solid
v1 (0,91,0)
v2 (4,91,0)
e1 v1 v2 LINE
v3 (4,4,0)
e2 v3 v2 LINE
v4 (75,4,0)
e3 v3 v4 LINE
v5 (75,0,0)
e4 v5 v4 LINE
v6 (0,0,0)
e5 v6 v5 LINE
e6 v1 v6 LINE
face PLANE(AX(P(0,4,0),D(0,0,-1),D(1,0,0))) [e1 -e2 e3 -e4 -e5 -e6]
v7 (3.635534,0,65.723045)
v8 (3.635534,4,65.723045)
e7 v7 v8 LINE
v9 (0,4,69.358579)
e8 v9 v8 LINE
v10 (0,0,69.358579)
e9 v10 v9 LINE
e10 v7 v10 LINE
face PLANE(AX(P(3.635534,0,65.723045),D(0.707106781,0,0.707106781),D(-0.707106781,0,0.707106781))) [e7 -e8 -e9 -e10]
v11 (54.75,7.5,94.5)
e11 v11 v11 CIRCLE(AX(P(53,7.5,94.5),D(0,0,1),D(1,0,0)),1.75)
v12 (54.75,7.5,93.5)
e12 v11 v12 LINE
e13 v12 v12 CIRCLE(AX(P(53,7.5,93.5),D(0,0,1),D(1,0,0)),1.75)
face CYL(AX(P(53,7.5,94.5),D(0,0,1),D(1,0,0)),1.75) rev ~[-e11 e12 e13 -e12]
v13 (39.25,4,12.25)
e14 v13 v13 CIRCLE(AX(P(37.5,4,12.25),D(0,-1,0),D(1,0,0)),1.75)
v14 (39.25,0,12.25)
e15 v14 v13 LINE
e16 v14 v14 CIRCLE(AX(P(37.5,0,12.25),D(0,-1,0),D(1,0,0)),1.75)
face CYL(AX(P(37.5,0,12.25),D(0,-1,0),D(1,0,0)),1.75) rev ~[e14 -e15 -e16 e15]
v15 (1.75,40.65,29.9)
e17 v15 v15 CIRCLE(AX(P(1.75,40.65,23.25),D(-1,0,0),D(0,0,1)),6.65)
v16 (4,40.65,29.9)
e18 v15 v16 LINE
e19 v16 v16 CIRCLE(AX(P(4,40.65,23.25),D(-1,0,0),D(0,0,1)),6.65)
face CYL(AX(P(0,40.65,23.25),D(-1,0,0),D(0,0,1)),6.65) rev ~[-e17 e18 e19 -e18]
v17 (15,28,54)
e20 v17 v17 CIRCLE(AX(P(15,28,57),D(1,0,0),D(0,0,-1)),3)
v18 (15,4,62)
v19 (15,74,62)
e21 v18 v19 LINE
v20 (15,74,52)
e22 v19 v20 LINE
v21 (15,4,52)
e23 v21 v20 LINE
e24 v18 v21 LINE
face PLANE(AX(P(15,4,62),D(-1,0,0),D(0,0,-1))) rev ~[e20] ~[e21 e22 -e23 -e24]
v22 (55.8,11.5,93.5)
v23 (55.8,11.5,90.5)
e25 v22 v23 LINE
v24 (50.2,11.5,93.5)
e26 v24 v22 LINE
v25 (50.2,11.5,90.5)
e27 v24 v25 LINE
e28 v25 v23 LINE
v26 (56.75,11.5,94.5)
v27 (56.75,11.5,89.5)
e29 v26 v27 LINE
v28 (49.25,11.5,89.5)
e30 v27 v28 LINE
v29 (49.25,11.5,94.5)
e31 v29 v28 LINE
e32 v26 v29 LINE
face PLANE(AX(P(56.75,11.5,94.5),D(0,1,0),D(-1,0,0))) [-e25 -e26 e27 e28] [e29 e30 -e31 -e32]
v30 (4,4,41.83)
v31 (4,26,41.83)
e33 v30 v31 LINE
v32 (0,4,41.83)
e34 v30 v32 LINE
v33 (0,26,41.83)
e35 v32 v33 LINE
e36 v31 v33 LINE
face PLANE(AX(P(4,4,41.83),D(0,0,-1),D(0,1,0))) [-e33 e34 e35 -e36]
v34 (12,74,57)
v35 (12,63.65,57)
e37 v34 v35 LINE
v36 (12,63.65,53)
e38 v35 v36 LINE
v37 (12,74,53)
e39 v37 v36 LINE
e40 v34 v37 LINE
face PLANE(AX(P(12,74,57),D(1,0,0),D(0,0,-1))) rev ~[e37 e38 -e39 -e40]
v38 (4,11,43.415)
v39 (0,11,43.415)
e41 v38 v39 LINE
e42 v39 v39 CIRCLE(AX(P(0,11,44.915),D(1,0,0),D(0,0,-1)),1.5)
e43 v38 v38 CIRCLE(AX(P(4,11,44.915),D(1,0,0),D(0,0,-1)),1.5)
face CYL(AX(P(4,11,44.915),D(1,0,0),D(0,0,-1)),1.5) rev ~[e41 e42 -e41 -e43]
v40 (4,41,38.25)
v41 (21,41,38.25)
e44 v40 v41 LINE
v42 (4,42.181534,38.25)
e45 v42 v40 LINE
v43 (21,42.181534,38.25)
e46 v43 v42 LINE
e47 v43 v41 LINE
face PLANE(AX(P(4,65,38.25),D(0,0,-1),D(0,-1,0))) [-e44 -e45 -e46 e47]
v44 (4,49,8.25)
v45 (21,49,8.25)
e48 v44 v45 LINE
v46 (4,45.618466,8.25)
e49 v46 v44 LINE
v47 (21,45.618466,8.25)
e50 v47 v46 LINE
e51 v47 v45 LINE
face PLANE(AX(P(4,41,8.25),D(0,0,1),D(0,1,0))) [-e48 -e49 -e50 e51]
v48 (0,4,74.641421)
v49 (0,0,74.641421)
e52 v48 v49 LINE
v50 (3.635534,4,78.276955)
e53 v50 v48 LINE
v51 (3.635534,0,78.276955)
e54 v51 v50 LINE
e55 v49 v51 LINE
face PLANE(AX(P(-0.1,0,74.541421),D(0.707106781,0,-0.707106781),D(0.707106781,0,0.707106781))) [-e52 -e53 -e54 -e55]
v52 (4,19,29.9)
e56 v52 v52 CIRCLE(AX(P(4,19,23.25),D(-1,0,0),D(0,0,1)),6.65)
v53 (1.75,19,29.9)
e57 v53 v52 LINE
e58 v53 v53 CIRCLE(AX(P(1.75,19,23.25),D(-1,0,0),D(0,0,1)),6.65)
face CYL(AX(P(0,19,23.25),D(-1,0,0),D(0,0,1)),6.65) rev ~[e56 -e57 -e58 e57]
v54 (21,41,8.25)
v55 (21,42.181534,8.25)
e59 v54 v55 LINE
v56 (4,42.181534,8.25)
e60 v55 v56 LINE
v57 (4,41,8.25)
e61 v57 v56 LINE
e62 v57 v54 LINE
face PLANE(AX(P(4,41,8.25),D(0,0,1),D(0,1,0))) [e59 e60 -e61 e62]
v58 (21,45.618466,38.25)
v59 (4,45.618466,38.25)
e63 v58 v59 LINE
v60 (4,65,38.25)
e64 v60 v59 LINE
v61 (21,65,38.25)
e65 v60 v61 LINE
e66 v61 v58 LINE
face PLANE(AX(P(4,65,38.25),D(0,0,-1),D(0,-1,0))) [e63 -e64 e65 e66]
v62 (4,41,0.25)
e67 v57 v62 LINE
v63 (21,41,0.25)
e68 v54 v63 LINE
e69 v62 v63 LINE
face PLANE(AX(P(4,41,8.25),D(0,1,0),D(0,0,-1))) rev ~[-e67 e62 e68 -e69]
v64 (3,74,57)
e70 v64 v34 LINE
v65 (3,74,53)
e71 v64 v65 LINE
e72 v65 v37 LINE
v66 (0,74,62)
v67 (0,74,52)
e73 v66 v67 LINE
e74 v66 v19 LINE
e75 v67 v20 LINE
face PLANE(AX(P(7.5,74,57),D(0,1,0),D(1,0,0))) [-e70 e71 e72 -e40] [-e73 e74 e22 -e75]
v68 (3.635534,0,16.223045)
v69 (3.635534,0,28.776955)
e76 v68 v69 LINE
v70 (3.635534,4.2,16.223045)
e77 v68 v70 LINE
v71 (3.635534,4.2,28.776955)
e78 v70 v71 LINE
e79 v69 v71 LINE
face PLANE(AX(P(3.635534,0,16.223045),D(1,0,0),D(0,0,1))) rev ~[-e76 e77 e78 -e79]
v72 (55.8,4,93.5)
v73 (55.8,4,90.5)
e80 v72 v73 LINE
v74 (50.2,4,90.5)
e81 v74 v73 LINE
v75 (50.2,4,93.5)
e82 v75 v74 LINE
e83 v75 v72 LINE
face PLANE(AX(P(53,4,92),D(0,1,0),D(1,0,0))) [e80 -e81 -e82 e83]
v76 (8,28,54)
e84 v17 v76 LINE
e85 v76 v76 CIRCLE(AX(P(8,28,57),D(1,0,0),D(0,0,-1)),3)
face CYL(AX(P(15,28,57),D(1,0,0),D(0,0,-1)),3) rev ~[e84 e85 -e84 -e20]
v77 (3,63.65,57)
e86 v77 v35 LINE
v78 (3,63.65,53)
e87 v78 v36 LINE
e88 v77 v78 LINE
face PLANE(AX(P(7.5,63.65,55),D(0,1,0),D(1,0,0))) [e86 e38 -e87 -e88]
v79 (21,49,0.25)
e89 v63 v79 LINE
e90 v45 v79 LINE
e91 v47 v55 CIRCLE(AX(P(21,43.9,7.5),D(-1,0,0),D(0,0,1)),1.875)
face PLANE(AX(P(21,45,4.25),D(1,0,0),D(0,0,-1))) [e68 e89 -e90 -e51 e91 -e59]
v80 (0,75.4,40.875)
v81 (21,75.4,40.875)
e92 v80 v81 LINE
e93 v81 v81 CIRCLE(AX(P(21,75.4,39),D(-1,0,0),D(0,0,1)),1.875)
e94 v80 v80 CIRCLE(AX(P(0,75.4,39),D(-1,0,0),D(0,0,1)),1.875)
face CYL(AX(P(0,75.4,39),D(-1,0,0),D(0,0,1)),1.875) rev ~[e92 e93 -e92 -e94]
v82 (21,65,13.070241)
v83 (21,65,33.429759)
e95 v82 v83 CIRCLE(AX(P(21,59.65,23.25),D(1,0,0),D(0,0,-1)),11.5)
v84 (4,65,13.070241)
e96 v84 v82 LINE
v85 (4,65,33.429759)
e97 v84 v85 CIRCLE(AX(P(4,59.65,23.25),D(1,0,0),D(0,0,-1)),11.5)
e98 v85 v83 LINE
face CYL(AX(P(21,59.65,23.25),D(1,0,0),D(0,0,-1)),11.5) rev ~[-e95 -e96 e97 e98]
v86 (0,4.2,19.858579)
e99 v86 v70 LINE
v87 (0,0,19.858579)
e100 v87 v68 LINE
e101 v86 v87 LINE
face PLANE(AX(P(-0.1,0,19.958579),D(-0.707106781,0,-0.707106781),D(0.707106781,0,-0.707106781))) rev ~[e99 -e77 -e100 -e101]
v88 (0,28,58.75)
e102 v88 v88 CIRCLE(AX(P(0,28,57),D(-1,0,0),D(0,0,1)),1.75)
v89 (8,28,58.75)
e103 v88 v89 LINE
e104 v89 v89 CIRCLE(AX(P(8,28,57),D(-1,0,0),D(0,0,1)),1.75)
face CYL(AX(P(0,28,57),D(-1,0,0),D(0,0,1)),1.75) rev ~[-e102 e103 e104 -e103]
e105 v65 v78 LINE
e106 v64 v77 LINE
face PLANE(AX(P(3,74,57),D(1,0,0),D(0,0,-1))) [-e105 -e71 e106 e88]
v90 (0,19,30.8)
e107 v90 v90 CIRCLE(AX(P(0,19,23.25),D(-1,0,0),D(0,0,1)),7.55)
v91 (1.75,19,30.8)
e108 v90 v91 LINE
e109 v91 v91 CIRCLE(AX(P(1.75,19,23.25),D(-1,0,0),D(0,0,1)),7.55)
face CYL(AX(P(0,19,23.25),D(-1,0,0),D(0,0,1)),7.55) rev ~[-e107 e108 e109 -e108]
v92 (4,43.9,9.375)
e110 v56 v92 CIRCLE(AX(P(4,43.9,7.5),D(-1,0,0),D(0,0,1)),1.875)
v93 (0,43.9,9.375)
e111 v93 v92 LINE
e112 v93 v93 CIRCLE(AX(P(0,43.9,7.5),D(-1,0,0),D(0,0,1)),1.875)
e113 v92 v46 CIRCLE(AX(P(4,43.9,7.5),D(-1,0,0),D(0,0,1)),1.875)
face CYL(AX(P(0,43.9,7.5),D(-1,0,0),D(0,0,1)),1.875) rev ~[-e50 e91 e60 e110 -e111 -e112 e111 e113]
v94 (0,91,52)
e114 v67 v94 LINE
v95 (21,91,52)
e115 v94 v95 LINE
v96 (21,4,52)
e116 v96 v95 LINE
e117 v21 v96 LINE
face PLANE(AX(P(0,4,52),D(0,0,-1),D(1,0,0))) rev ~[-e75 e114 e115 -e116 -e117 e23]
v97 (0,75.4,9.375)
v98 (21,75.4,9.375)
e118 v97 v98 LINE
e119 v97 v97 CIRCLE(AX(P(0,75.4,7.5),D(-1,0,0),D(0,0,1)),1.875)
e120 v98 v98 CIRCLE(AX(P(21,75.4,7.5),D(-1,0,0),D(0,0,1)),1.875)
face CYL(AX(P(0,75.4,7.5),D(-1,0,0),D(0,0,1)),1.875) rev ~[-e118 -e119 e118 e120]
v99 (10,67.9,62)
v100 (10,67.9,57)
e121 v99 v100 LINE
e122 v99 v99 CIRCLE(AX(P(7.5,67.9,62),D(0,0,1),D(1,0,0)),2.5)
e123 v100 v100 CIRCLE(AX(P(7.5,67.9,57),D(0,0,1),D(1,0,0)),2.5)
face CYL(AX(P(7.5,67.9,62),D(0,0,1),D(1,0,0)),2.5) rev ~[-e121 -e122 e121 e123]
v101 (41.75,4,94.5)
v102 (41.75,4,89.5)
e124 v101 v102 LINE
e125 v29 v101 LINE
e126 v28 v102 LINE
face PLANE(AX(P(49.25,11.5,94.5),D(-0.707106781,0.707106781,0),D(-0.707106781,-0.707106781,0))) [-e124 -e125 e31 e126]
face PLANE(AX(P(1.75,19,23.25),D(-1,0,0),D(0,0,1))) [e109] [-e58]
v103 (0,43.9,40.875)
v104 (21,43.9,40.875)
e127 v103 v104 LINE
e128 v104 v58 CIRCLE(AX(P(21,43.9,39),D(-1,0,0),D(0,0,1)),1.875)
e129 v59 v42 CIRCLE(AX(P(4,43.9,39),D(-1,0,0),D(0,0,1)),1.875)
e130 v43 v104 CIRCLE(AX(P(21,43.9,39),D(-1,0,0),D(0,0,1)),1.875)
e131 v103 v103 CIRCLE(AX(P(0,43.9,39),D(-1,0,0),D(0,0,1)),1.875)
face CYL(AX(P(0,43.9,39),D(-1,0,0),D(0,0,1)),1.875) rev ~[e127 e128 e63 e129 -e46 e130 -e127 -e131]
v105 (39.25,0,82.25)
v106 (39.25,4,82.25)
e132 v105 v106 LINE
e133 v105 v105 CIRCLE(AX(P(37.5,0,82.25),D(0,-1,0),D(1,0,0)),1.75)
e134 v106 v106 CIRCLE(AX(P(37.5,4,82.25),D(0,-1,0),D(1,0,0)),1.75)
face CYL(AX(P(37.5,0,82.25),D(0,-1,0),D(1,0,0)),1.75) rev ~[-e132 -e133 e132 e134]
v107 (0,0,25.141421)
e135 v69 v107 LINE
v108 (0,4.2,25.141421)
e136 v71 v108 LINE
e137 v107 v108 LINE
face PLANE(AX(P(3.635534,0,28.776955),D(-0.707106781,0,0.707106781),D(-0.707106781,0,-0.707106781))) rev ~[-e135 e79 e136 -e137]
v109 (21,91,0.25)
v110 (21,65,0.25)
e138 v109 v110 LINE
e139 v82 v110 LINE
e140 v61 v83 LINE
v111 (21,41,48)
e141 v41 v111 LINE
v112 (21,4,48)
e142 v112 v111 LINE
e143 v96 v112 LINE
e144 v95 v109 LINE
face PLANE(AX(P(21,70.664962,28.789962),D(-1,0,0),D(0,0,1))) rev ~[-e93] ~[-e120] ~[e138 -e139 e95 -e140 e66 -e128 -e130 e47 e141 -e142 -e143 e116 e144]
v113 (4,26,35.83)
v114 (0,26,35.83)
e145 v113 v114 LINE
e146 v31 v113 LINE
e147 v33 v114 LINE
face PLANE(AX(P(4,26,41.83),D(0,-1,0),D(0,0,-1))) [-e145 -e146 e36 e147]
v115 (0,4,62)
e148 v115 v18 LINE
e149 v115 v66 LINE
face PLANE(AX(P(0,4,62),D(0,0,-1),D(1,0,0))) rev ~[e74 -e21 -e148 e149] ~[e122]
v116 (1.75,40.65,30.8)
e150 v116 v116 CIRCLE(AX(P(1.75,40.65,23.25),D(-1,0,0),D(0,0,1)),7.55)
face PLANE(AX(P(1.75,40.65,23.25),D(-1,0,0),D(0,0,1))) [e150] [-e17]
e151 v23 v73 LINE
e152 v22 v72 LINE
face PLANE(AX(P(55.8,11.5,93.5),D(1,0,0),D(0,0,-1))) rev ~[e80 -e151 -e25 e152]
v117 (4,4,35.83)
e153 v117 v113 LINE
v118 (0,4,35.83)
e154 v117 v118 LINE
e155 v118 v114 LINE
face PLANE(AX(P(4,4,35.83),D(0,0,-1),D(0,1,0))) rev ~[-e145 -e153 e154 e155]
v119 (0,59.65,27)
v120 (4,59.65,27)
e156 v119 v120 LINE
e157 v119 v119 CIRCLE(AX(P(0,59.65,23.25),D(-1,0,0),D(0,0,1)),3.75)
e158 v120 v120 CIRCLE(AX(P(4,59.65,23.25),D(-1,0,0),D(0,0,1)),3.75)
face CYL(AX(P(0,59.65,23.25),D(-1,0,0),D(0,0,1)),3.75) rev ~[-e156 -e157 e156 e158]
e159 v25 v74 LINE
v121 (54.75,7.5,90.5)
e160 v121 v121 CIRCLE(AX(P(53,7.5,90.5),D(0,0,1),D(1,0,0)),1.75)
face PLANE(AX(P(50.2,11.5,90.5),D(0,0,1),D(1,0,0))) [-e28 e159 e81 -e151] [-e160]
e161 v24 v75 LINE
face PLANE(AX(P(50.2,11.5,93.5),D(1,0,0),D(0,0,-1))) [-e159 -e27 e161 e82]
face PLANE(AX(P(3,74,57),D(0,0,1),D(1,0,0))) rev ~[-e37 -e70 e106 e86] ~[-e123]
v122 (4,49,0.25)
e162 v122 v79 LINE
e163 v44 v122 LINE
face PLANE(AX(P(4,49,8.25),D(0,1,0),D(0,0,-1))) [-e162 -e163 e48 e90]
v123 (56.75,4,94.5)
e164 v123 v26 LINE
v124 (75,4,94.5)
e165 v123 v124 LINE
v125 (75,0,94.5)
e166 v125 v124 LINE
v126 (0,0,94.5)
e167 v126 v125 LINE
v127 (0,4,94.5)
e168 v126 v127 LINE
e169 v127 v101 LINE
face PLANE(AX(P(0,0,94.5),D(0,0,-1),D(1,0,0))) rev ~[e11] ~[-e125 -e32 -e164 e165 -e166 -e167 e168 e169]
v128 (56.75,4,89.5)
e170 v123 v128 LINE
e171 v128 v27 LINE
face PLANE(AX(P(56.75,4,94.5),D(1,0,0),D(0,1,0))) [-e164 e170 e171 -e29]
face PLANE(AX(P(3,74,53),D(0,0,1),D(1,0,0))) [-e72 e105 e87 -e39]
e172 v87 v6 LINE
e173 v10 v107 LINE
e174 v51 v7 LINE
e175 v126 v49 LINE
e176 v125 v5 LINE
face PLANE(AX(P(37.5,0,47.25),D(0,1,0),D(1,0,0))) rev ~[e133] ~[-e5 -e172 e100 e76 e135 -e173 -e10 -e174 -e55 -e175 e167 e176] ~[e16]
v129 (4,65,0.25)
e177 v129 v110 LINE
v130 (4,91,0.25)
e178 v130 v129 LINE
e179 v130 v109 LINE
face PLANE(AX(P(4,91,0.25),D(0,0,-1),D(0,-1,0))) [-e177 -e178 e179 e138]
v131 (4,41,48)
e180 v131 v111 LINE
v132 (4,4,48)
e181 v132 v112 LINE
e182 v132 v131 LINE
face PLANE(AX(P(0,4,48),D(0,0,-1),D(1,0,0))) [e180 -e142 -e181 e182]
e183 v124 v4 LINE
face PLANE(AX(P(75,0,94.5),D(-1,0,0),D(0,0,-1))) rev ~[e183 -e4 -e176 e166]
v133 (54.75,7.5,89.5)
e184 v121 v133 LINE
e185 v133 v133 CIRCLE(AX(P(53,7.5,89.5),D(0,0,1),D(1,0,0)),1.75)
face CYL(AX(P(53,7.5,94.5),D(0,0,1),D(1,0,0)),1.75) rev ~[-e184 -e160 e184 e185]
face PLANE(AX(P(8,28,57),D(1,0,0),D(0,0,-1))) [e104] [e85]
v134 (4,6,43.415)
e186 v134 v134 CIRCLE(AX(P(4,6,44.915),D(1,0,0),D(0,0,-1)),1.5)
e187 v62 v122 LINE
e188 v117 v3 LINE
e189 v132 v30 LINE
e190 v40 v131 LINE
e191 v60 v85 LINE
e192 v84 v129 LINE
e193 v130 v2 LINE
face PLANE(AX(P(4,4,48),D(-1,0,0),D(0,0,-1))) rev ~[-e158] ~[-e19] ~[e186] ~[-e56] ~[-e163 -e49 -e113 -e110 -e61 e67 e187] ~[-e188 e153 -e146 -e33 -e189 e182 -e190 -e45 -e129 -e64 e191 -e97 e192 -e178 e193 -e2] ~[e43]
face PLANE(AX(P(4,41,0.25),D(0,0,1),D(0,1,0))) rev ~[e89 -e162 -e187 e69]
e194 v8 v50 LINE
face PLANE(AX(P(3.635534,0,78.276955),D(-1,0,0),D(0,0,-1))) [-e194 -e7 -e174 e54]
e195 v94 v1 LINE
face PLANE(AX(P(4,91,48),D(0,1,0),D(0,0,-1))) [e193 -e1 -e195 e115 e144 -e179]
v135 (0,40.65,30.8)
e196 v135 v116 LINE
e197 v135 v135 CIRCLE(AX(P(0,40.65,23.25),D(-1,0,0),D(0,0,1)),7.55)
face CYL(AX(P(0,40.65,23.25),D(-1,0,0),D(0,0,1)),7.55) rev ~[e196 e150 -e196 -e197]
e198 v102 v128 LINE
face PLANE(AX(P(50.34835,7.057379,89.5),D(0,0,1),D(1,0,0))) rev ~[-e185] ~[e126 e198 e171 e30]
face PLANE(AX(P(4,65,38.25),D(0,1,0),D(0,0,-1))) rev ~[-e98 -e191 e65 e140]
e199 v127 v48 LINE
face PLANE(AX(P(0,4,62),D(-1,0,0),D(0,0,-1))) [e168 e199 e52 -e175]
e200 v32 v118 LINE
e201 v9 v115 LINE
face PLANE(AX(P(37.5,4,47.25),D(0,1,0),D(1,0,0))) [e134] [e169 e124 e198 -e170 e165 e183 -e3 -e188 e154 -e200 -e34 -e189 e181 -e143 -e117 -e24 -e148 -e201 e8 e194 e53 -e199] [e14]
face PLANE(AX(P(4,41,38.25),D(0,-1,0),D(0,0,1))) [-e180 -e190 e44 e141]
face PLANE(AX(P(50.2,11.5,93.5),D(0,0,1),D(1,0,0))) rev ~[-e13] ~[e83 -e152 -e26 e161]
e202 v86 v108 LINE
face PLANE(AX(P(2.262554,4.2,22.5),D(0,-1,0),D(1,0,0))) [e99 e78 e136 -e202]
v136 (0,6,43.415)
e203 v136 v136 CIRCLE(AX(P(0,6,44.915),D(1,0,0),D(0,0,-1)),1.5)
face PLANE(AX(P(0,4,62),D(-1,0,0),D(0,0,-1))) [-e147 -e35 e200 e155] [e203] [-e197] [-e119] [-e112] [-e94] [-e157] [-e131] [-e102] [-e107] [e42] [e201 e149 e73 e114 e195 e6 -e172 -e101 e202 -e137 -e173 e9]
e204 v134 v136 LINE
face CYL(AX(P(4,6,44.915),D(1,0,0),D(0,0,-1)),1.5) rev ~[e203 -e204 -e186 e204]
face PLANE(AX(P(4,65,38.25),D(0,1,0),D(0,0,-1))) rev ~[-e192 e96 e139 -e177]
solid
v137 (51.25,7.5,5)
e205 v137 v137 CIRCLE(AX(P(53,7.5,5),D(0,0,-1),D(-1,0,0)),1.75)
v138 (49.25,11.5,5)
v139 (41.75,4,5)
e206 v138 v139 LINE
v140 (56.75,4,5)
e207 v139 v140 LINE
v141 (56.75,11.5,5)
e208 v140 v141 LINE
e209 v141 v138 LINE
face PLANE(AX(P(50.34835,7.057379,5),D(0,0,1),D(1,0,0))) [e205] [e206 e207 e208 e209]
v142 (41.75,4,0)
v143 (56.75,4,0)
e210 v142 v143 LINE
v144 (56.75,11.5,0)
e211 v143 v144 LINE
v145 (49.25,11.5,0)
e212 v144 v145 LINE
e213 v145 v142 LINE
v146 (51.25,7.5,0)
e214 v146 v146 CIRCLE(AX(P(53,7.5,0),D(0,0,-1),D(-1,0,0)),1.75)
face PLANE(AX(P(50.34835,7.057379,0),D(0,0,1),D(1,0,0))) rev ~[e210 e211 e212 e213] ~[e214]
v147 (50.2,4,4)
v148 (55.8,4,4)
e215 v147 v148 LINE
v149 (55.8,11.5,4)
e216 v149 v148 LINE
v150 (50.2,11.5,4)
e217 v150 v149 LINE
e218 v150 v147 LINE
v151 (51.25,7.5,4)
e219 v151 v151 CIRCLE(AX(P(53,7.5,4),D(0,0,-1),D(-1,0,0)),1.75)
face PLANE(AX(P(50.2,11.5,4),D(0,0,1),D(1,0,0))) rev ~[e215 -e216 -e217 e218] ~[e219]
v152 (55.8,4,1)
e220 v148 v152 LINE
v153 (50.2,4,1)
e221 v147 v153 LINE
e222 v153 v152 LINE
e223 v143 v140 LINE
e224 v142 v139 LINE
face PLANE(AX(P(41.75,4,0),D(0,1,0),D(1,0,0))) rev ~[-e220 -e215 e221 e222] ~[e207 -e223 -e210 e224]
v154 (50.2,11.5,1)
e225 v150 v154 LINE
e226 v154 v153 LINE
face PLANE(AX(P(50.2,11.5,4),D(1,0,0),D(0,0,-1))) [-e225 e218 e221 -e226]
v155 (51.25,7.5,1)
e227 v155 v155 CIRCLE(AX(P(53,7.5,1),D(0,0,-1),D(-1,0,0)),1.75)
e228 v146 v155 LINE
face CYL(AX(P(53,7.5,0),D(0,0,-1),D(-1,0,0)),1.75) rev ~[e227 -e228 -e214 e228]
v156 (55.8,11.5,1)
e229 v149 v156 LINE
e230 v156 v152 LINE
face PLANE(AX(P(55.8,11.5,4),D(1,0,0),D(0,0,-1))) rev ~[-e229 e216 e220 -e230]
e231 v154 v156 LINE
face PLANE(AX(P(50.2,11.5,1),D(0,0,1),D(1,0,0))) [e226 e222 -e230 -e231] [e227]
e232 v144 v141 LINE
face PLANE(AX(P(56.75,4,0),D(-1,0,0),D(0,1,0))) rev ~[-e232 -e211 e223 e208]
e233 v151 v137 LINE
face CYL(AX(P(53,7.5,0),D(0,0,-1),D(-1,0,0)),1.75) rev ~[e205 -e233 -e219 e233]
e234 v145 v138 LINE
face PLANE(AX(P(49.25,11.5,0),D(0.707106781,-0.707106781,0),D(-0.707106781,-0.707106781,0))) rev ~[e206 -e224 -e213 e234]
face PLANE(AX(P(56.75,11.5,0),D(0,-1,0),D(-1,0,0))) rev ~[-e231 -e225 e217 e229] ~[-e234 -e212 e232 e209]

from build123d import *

# Parameters (mm, degrees)
SKETCH20_W                        = 75
SKETCH20_H                        = 94.5
BASE_DEPTH                        = 4
SKETCH21_W                        = 21
SKETCH21_H                        = 4
X_WALL_DEPTH                      = 87
SKETCH22_W                        = 4
SKETCH22_H                        = 48
Y_WALL_DEPTH                      = 87
SKETCH23_W                        = 15
SKETCH23_H                        = 10
BELT_SCREW_MOUNT_DEPTH            = 70
SKETCH24_W                        = 8
SKETCH24_H                        = 8
MOTOR_SPACER_DEPTH                = 17
SKETCH14_R                        = 6.65
SKETCH14_R_2                      = 3.75
SKETCH14_R_3                      = 1.875
MOTOR_BEARING_HOLES_DEPTH         = 21
SKETCH15_R                        = 7.55
BEARING_HOLES_2_DEPTH             = 1.75
SKETCH17_R                        = 2.5
BELT_SCREW_HOLE_DEPTH             = 8
SKETCH18_W                        = 9
SKETCH18_H                        = 4
BELT_BOLT_HOLE_DEPTH              = 10.35
SKETCH25_R                        = 11.5
MOTOR_CUTOUT_DEPTH                = 17
SKETCH26_R                        = 1.75
CONNECTOR_SCREW_HOLE_DEPTH        = 15
SKETCH42_R                        = 3
CUT_EXTRUDE2_DEPTH                = 7
DOVETAILCUTOUT_DEPTH              = 4.2
FRONT_RIGHT_CASE_SCREW_BODY_DEPTH = 5
SKETCH29_R                        = 1.75
FRONT_RIGHT_CASE_SCREW_HOLE_DEPTH = 10
SKETCH30_W                        = 5.6
SKETCH30_H                        = 3
FRONT_RIGHT_CASE_NUT_HOLE_DEPTH   = 7.5
BACK_RIGHT_CASE_SCREW_BODY_DEPTH  = 5
SKETCH38_R                        = 1.75
BACK_RIGHT_CASE_SCREW_HOLE_DEPTH  = 5
SKETCH39_W                        = 5.6
SKETCH39_H                        = 3
BACK_RIGHT_CASE_NUT_HOLE_DEPTH    = 7.5
SKETCH40_R                        = 1.75
FOOT_HOLES_DEPTH                  = 10
SKETCH41_R                        = 1.5
SKETCH41_W                        = 6
SKETCH41_H                        = 22
MOTOR_CABLE_PASSTHROUGH_DEPTH     = 4


with BuildPart() as part:
    # Sketch20 → Base (new body)
    with BuildSketch(Plane(origin=(0, 0, 0), x_dir=(1, 0, 0), z_dir=(0, 1, 0))):
        with Locations((37.5, -47.25)):
            Rectangle(SKETCH20_W, SKETCH20_H)
    extrude(amount=BASE_DEPTH)

    # Sketch21 → X_Wall (add)
    with BuildSketch(Plane(origin=(0, 4, 0), x_dir=(1, 0, 0), z_dir=(0, 1, 0))):
        with Locations((10.5, -50)):
            Rectangle(SKETCH21_W, SKETCH21_H)
    extrude(amount=X_WALL_DEPTH)

    # Sketch22 → Y_Wall (add)
    with BuildSketch(Plane(origin=(0, 4, 0), x_dir=(1, 0, 0), z_dir=(0, 1, 0))):
        with Locations((2, -24)):
            Rectangle(SKETCH22_W, SKETCH22_H)
    extrude(amount=Y_WALL_DEPTH)

    # Sketch23 → Belt_Screw_Mount (add)
    with BuildSketch(Plane(origin=(0, 4, 0), x_dir=(1, 0, 0), z_dir=(0, 1, 0))):
        with Locations((7.5, -57)):
            Rectangle(SKETCH23_W, SKETCH23_H)
    extrude(amount=BELT_SCREW_MOUNT_DEPTH)

    # Sketch24 → Motor_Spacer (add)
    with BuildSketch(Plane(origin=(4, 0, 0), x_dir=(0, 0, -1), z_dir=(1, 0, 0))):
        Polygon((-48, 41), (-48, 91), (-0.25, 91), (-0.25, 65), (-8.25, 65), (-38.25, 65), (-38.25, 41), align=None)
        with Locations((-4.25, 45)):
            Rectangle(SKETCH24_W, SKETCH24_H)
    extrude(amount=MOTOR_SPACER_DEPTH)

    # Sketch14 → Motor_Bearing_Holes (cut)
    with BuildSketch(Plane.ZY):
        with Locations((23.25, 19)):
            Circle(SKETCH14_R)
        with Locations((23.25, 40.65)):
            Circle(SKETCH14_R)
        with Locations((23.25, 59.65)):
            Circle(SKETCH14_R_2)
        with Locations((39, 75.4)):
            Circle(SKETCH14_R_3)
        with Locations((39, 43.9)):
            Circle(SKETCH14_R_3)
        with Locations((7.5, 43.9)):
            Circle(SKETCH14_R_3)
        with Locations((7.5, 75.4)):
            Circle(SKETCH14_R_3)
    extrude(amount=-MOTOR_BEARING_HOLES_DEPTH, mode=Mode.SUBTRACT)

    # Sketch15 → Bearing_Holes_2 (cut)
    with BuildSketch(Plane.ZY):
        with Locations((23.25, 19)):
            Circle(SKETCH15_R)
        with Locations((23.25, 40.65)):
            Circle(SKETCH15_R)
    extrude(amount=-BEARING_HOLES_2_DEPTH, mode=Mode.SUBTRACT)

    # Sketch17 → Belt_Screw_Hole (cut)
    with BuildSketch(Plane.XY.offset(62)):
        with Locations((7.5, 67.9)):
            Circle(SKETCH17_R)
    extrude(amount=-BELT_SCREW_HOLE_DEPTH, mode=Mode.SUBTRACT)

    # Sketch18 → Belt_Bolt_Hole (cut)
    with BuildSketch(Plane(origin=(0, 74, 0), x_dir=(1, 0, 0), z_dir=(0, 1, 0))):
        with Locations((7.5, -55)):
            Rectangle(SKETCH18_W, SKETCH18_H)
    extrude(amount=-BELT_BOLT_HOLE_DEPTH, mode=Mode.SUBTRACT)

    # Sketch25 → Motor_Cutout (cut)
    with BuildSketch(Plane(origin=(21, 0, 0), x_dir=(0, 0, -1), z_dir=(1, 0, 0))):
        with Locations((-23.25, 59.65)):
            Circle(SKETCH25_R)
    extrude(amount=-MOTOR_CUTOUT_DEPTH, mode=Mode.SUBTRACT)

    # Sketch26 → Connector_Screw-hole (cut)
    with BuildSketch(Plane.ZY):
        with Locations((57, 28)):
            Circle(SKETCH26_R)
    extrude(amount=-CONNECTOR_SCREW_HOLE_DEPTH, mode=Mode.SUBTRACT)

    # Sketch42 → Cut-Extrude2 (cut)
    with BuildSketch(Plane(origin=(15, 0, 0), x_dir=(0, 0, -1), z_dir=(1, 0, 0))):
        with Locations((-57, 28)):
            Circle(SKETCH42_R)
    extrude(amount=-CUT_EXTRUDE2_DEPTH, mode=Mode.SUBTRACT)

    # Sketch27 → DoveTailCutout (cut)
    with BuildSketch(Plane.XZ):
        Polygon((3.635533906, 65.723044738), (-0.1, 69.458578644), (-0.1, 74.541421356), (3.635533906, 78.276955262), align=None)
        Polygon((3.635533906, 16.223044738), (3.635533906, 28.776955262), (-0.1, 25.041421356), (-0.1, 19.958578644), align=None)
    extrude(amount=-DOVETAILCUTOUT_DEPTH, mode=Mode.SUBTRACT)

    # Sketch28 → Front_Right_Case_Screw_Body (add)
    with BuildSketch(Plane.XY.offset(94.5)):
        Polygon((56.75, 4), (56.75, 11.5), (49.25, 11.5), (41.75, 4), align=None)
    extrude(amount=-FRONT_RIGHT_CASE_SCREW_BODY_DEPTH)

    # Sketch29 → Front_Right_Case_Screw_Hole (cut)
    with BuildSketch(Plane.XY.offset(94.5)):
        with Locations((53, 7.5)):
            Circle(SKETCH29_R)
    extrude(amount=-FRONT_RIGHT_CASE_SCREW_HOLE_DEPTH, mode=Mode.SUBTRACT)

    # Sketch30 → Front_Right_Case_Nut_Hole (cut)
    with BuildSketch(Plane(origin=(0, 11.5, 0), x_dir=(1, 0, 0), z_dir=(0, 1, 0))):
        with Locations((53, -92)):
            Rectangle(SKETCH30_W, SKETCH30_H)
    extrude(amount=-FRONT_RIGHT_CASE_NUT_HOLE_DEPTH, mode=Mode.SUBTRACT)

    # Sketch40 → Foot_Holes (cut)
    with BuildSketch(Plane.XZ):
        with Locations((37.5, 82.25)):
            Circle(SKETCH40_R)
        with Locations((37.5, 12.25)):
            Circle(SKETCH40_R)
    extrude(amount=-FOOT_HOLES_DEPTH, mode=Mode.SUBTRACT)

    # Sketch41 → Motor_Cable_Passthrough (cut)
    with BuildSketch(Plane(origin=(4, 0, 0), x_dir=(0, 0, -1), z_dir=(1, 0, 0))):
        with Locations((-44.915, 11)):
            Circle(SKETCH41_R)
        with Locations((-44.915, 6)):
            Circle(SKETCH41_R)
        with Locations((-38.83, 15)):
            Rectangle(SKETCH41_W, SKETCH41_H)
    extrude(amount=-MOTOR_CABLE_PASSTHROUGH_DEPTH, mode=Mode.SUBTRACT)


with BuildPart() as body_2:
    # Sketch37 → Back_Right_Case_Screw_Body (new body)
    with BuildSketch(Plane(origin=(0, 0, 0), x_dir=(-1, 0, 0), z_dir=(0, 0, -1))):
        Polygon((-56.75, 4), (-56.75, 11.5), (-49.25, 11.5), (-41.75, 4), align=None)
    extrude(amount=-BACK_RIGHT_CASE_SCREW_BODY_DEPTH)

    # Sketch38 → Back_Right_Case_Screw_Hole (cut)
    with BuildSketch(Plane(origin=(0, 0, 0), x_dir=(-1, 0, 0), z_dir=(0, 0, -1))):
        with Locations((-53, 7.5)):
            Circle(SKETCH38_R)
    extrude(amount=-BACK_RIGHT_CASE_SCREW_HOLE_DEPTH, mode=Mode.SUBTRACT)

    # Sketch39 → Back_Right_Case_Nut_Hole (cut)
    with BuildSketch(Plane(origin=(0, 11.5, 0), x_dir=(1, 0, 0), z_dir=(0, 1, 0))):
        with Locations((53, -2.5)):
            Rectangle(SKETCH39_W, SKETCH39_H)
    extrude(amount=-BACK_RIGHT_CASE_NUT_HOLE_DEPTH, mode=Mode.SUBTRACT)


solid = Compound([part.part, body_2.part])
